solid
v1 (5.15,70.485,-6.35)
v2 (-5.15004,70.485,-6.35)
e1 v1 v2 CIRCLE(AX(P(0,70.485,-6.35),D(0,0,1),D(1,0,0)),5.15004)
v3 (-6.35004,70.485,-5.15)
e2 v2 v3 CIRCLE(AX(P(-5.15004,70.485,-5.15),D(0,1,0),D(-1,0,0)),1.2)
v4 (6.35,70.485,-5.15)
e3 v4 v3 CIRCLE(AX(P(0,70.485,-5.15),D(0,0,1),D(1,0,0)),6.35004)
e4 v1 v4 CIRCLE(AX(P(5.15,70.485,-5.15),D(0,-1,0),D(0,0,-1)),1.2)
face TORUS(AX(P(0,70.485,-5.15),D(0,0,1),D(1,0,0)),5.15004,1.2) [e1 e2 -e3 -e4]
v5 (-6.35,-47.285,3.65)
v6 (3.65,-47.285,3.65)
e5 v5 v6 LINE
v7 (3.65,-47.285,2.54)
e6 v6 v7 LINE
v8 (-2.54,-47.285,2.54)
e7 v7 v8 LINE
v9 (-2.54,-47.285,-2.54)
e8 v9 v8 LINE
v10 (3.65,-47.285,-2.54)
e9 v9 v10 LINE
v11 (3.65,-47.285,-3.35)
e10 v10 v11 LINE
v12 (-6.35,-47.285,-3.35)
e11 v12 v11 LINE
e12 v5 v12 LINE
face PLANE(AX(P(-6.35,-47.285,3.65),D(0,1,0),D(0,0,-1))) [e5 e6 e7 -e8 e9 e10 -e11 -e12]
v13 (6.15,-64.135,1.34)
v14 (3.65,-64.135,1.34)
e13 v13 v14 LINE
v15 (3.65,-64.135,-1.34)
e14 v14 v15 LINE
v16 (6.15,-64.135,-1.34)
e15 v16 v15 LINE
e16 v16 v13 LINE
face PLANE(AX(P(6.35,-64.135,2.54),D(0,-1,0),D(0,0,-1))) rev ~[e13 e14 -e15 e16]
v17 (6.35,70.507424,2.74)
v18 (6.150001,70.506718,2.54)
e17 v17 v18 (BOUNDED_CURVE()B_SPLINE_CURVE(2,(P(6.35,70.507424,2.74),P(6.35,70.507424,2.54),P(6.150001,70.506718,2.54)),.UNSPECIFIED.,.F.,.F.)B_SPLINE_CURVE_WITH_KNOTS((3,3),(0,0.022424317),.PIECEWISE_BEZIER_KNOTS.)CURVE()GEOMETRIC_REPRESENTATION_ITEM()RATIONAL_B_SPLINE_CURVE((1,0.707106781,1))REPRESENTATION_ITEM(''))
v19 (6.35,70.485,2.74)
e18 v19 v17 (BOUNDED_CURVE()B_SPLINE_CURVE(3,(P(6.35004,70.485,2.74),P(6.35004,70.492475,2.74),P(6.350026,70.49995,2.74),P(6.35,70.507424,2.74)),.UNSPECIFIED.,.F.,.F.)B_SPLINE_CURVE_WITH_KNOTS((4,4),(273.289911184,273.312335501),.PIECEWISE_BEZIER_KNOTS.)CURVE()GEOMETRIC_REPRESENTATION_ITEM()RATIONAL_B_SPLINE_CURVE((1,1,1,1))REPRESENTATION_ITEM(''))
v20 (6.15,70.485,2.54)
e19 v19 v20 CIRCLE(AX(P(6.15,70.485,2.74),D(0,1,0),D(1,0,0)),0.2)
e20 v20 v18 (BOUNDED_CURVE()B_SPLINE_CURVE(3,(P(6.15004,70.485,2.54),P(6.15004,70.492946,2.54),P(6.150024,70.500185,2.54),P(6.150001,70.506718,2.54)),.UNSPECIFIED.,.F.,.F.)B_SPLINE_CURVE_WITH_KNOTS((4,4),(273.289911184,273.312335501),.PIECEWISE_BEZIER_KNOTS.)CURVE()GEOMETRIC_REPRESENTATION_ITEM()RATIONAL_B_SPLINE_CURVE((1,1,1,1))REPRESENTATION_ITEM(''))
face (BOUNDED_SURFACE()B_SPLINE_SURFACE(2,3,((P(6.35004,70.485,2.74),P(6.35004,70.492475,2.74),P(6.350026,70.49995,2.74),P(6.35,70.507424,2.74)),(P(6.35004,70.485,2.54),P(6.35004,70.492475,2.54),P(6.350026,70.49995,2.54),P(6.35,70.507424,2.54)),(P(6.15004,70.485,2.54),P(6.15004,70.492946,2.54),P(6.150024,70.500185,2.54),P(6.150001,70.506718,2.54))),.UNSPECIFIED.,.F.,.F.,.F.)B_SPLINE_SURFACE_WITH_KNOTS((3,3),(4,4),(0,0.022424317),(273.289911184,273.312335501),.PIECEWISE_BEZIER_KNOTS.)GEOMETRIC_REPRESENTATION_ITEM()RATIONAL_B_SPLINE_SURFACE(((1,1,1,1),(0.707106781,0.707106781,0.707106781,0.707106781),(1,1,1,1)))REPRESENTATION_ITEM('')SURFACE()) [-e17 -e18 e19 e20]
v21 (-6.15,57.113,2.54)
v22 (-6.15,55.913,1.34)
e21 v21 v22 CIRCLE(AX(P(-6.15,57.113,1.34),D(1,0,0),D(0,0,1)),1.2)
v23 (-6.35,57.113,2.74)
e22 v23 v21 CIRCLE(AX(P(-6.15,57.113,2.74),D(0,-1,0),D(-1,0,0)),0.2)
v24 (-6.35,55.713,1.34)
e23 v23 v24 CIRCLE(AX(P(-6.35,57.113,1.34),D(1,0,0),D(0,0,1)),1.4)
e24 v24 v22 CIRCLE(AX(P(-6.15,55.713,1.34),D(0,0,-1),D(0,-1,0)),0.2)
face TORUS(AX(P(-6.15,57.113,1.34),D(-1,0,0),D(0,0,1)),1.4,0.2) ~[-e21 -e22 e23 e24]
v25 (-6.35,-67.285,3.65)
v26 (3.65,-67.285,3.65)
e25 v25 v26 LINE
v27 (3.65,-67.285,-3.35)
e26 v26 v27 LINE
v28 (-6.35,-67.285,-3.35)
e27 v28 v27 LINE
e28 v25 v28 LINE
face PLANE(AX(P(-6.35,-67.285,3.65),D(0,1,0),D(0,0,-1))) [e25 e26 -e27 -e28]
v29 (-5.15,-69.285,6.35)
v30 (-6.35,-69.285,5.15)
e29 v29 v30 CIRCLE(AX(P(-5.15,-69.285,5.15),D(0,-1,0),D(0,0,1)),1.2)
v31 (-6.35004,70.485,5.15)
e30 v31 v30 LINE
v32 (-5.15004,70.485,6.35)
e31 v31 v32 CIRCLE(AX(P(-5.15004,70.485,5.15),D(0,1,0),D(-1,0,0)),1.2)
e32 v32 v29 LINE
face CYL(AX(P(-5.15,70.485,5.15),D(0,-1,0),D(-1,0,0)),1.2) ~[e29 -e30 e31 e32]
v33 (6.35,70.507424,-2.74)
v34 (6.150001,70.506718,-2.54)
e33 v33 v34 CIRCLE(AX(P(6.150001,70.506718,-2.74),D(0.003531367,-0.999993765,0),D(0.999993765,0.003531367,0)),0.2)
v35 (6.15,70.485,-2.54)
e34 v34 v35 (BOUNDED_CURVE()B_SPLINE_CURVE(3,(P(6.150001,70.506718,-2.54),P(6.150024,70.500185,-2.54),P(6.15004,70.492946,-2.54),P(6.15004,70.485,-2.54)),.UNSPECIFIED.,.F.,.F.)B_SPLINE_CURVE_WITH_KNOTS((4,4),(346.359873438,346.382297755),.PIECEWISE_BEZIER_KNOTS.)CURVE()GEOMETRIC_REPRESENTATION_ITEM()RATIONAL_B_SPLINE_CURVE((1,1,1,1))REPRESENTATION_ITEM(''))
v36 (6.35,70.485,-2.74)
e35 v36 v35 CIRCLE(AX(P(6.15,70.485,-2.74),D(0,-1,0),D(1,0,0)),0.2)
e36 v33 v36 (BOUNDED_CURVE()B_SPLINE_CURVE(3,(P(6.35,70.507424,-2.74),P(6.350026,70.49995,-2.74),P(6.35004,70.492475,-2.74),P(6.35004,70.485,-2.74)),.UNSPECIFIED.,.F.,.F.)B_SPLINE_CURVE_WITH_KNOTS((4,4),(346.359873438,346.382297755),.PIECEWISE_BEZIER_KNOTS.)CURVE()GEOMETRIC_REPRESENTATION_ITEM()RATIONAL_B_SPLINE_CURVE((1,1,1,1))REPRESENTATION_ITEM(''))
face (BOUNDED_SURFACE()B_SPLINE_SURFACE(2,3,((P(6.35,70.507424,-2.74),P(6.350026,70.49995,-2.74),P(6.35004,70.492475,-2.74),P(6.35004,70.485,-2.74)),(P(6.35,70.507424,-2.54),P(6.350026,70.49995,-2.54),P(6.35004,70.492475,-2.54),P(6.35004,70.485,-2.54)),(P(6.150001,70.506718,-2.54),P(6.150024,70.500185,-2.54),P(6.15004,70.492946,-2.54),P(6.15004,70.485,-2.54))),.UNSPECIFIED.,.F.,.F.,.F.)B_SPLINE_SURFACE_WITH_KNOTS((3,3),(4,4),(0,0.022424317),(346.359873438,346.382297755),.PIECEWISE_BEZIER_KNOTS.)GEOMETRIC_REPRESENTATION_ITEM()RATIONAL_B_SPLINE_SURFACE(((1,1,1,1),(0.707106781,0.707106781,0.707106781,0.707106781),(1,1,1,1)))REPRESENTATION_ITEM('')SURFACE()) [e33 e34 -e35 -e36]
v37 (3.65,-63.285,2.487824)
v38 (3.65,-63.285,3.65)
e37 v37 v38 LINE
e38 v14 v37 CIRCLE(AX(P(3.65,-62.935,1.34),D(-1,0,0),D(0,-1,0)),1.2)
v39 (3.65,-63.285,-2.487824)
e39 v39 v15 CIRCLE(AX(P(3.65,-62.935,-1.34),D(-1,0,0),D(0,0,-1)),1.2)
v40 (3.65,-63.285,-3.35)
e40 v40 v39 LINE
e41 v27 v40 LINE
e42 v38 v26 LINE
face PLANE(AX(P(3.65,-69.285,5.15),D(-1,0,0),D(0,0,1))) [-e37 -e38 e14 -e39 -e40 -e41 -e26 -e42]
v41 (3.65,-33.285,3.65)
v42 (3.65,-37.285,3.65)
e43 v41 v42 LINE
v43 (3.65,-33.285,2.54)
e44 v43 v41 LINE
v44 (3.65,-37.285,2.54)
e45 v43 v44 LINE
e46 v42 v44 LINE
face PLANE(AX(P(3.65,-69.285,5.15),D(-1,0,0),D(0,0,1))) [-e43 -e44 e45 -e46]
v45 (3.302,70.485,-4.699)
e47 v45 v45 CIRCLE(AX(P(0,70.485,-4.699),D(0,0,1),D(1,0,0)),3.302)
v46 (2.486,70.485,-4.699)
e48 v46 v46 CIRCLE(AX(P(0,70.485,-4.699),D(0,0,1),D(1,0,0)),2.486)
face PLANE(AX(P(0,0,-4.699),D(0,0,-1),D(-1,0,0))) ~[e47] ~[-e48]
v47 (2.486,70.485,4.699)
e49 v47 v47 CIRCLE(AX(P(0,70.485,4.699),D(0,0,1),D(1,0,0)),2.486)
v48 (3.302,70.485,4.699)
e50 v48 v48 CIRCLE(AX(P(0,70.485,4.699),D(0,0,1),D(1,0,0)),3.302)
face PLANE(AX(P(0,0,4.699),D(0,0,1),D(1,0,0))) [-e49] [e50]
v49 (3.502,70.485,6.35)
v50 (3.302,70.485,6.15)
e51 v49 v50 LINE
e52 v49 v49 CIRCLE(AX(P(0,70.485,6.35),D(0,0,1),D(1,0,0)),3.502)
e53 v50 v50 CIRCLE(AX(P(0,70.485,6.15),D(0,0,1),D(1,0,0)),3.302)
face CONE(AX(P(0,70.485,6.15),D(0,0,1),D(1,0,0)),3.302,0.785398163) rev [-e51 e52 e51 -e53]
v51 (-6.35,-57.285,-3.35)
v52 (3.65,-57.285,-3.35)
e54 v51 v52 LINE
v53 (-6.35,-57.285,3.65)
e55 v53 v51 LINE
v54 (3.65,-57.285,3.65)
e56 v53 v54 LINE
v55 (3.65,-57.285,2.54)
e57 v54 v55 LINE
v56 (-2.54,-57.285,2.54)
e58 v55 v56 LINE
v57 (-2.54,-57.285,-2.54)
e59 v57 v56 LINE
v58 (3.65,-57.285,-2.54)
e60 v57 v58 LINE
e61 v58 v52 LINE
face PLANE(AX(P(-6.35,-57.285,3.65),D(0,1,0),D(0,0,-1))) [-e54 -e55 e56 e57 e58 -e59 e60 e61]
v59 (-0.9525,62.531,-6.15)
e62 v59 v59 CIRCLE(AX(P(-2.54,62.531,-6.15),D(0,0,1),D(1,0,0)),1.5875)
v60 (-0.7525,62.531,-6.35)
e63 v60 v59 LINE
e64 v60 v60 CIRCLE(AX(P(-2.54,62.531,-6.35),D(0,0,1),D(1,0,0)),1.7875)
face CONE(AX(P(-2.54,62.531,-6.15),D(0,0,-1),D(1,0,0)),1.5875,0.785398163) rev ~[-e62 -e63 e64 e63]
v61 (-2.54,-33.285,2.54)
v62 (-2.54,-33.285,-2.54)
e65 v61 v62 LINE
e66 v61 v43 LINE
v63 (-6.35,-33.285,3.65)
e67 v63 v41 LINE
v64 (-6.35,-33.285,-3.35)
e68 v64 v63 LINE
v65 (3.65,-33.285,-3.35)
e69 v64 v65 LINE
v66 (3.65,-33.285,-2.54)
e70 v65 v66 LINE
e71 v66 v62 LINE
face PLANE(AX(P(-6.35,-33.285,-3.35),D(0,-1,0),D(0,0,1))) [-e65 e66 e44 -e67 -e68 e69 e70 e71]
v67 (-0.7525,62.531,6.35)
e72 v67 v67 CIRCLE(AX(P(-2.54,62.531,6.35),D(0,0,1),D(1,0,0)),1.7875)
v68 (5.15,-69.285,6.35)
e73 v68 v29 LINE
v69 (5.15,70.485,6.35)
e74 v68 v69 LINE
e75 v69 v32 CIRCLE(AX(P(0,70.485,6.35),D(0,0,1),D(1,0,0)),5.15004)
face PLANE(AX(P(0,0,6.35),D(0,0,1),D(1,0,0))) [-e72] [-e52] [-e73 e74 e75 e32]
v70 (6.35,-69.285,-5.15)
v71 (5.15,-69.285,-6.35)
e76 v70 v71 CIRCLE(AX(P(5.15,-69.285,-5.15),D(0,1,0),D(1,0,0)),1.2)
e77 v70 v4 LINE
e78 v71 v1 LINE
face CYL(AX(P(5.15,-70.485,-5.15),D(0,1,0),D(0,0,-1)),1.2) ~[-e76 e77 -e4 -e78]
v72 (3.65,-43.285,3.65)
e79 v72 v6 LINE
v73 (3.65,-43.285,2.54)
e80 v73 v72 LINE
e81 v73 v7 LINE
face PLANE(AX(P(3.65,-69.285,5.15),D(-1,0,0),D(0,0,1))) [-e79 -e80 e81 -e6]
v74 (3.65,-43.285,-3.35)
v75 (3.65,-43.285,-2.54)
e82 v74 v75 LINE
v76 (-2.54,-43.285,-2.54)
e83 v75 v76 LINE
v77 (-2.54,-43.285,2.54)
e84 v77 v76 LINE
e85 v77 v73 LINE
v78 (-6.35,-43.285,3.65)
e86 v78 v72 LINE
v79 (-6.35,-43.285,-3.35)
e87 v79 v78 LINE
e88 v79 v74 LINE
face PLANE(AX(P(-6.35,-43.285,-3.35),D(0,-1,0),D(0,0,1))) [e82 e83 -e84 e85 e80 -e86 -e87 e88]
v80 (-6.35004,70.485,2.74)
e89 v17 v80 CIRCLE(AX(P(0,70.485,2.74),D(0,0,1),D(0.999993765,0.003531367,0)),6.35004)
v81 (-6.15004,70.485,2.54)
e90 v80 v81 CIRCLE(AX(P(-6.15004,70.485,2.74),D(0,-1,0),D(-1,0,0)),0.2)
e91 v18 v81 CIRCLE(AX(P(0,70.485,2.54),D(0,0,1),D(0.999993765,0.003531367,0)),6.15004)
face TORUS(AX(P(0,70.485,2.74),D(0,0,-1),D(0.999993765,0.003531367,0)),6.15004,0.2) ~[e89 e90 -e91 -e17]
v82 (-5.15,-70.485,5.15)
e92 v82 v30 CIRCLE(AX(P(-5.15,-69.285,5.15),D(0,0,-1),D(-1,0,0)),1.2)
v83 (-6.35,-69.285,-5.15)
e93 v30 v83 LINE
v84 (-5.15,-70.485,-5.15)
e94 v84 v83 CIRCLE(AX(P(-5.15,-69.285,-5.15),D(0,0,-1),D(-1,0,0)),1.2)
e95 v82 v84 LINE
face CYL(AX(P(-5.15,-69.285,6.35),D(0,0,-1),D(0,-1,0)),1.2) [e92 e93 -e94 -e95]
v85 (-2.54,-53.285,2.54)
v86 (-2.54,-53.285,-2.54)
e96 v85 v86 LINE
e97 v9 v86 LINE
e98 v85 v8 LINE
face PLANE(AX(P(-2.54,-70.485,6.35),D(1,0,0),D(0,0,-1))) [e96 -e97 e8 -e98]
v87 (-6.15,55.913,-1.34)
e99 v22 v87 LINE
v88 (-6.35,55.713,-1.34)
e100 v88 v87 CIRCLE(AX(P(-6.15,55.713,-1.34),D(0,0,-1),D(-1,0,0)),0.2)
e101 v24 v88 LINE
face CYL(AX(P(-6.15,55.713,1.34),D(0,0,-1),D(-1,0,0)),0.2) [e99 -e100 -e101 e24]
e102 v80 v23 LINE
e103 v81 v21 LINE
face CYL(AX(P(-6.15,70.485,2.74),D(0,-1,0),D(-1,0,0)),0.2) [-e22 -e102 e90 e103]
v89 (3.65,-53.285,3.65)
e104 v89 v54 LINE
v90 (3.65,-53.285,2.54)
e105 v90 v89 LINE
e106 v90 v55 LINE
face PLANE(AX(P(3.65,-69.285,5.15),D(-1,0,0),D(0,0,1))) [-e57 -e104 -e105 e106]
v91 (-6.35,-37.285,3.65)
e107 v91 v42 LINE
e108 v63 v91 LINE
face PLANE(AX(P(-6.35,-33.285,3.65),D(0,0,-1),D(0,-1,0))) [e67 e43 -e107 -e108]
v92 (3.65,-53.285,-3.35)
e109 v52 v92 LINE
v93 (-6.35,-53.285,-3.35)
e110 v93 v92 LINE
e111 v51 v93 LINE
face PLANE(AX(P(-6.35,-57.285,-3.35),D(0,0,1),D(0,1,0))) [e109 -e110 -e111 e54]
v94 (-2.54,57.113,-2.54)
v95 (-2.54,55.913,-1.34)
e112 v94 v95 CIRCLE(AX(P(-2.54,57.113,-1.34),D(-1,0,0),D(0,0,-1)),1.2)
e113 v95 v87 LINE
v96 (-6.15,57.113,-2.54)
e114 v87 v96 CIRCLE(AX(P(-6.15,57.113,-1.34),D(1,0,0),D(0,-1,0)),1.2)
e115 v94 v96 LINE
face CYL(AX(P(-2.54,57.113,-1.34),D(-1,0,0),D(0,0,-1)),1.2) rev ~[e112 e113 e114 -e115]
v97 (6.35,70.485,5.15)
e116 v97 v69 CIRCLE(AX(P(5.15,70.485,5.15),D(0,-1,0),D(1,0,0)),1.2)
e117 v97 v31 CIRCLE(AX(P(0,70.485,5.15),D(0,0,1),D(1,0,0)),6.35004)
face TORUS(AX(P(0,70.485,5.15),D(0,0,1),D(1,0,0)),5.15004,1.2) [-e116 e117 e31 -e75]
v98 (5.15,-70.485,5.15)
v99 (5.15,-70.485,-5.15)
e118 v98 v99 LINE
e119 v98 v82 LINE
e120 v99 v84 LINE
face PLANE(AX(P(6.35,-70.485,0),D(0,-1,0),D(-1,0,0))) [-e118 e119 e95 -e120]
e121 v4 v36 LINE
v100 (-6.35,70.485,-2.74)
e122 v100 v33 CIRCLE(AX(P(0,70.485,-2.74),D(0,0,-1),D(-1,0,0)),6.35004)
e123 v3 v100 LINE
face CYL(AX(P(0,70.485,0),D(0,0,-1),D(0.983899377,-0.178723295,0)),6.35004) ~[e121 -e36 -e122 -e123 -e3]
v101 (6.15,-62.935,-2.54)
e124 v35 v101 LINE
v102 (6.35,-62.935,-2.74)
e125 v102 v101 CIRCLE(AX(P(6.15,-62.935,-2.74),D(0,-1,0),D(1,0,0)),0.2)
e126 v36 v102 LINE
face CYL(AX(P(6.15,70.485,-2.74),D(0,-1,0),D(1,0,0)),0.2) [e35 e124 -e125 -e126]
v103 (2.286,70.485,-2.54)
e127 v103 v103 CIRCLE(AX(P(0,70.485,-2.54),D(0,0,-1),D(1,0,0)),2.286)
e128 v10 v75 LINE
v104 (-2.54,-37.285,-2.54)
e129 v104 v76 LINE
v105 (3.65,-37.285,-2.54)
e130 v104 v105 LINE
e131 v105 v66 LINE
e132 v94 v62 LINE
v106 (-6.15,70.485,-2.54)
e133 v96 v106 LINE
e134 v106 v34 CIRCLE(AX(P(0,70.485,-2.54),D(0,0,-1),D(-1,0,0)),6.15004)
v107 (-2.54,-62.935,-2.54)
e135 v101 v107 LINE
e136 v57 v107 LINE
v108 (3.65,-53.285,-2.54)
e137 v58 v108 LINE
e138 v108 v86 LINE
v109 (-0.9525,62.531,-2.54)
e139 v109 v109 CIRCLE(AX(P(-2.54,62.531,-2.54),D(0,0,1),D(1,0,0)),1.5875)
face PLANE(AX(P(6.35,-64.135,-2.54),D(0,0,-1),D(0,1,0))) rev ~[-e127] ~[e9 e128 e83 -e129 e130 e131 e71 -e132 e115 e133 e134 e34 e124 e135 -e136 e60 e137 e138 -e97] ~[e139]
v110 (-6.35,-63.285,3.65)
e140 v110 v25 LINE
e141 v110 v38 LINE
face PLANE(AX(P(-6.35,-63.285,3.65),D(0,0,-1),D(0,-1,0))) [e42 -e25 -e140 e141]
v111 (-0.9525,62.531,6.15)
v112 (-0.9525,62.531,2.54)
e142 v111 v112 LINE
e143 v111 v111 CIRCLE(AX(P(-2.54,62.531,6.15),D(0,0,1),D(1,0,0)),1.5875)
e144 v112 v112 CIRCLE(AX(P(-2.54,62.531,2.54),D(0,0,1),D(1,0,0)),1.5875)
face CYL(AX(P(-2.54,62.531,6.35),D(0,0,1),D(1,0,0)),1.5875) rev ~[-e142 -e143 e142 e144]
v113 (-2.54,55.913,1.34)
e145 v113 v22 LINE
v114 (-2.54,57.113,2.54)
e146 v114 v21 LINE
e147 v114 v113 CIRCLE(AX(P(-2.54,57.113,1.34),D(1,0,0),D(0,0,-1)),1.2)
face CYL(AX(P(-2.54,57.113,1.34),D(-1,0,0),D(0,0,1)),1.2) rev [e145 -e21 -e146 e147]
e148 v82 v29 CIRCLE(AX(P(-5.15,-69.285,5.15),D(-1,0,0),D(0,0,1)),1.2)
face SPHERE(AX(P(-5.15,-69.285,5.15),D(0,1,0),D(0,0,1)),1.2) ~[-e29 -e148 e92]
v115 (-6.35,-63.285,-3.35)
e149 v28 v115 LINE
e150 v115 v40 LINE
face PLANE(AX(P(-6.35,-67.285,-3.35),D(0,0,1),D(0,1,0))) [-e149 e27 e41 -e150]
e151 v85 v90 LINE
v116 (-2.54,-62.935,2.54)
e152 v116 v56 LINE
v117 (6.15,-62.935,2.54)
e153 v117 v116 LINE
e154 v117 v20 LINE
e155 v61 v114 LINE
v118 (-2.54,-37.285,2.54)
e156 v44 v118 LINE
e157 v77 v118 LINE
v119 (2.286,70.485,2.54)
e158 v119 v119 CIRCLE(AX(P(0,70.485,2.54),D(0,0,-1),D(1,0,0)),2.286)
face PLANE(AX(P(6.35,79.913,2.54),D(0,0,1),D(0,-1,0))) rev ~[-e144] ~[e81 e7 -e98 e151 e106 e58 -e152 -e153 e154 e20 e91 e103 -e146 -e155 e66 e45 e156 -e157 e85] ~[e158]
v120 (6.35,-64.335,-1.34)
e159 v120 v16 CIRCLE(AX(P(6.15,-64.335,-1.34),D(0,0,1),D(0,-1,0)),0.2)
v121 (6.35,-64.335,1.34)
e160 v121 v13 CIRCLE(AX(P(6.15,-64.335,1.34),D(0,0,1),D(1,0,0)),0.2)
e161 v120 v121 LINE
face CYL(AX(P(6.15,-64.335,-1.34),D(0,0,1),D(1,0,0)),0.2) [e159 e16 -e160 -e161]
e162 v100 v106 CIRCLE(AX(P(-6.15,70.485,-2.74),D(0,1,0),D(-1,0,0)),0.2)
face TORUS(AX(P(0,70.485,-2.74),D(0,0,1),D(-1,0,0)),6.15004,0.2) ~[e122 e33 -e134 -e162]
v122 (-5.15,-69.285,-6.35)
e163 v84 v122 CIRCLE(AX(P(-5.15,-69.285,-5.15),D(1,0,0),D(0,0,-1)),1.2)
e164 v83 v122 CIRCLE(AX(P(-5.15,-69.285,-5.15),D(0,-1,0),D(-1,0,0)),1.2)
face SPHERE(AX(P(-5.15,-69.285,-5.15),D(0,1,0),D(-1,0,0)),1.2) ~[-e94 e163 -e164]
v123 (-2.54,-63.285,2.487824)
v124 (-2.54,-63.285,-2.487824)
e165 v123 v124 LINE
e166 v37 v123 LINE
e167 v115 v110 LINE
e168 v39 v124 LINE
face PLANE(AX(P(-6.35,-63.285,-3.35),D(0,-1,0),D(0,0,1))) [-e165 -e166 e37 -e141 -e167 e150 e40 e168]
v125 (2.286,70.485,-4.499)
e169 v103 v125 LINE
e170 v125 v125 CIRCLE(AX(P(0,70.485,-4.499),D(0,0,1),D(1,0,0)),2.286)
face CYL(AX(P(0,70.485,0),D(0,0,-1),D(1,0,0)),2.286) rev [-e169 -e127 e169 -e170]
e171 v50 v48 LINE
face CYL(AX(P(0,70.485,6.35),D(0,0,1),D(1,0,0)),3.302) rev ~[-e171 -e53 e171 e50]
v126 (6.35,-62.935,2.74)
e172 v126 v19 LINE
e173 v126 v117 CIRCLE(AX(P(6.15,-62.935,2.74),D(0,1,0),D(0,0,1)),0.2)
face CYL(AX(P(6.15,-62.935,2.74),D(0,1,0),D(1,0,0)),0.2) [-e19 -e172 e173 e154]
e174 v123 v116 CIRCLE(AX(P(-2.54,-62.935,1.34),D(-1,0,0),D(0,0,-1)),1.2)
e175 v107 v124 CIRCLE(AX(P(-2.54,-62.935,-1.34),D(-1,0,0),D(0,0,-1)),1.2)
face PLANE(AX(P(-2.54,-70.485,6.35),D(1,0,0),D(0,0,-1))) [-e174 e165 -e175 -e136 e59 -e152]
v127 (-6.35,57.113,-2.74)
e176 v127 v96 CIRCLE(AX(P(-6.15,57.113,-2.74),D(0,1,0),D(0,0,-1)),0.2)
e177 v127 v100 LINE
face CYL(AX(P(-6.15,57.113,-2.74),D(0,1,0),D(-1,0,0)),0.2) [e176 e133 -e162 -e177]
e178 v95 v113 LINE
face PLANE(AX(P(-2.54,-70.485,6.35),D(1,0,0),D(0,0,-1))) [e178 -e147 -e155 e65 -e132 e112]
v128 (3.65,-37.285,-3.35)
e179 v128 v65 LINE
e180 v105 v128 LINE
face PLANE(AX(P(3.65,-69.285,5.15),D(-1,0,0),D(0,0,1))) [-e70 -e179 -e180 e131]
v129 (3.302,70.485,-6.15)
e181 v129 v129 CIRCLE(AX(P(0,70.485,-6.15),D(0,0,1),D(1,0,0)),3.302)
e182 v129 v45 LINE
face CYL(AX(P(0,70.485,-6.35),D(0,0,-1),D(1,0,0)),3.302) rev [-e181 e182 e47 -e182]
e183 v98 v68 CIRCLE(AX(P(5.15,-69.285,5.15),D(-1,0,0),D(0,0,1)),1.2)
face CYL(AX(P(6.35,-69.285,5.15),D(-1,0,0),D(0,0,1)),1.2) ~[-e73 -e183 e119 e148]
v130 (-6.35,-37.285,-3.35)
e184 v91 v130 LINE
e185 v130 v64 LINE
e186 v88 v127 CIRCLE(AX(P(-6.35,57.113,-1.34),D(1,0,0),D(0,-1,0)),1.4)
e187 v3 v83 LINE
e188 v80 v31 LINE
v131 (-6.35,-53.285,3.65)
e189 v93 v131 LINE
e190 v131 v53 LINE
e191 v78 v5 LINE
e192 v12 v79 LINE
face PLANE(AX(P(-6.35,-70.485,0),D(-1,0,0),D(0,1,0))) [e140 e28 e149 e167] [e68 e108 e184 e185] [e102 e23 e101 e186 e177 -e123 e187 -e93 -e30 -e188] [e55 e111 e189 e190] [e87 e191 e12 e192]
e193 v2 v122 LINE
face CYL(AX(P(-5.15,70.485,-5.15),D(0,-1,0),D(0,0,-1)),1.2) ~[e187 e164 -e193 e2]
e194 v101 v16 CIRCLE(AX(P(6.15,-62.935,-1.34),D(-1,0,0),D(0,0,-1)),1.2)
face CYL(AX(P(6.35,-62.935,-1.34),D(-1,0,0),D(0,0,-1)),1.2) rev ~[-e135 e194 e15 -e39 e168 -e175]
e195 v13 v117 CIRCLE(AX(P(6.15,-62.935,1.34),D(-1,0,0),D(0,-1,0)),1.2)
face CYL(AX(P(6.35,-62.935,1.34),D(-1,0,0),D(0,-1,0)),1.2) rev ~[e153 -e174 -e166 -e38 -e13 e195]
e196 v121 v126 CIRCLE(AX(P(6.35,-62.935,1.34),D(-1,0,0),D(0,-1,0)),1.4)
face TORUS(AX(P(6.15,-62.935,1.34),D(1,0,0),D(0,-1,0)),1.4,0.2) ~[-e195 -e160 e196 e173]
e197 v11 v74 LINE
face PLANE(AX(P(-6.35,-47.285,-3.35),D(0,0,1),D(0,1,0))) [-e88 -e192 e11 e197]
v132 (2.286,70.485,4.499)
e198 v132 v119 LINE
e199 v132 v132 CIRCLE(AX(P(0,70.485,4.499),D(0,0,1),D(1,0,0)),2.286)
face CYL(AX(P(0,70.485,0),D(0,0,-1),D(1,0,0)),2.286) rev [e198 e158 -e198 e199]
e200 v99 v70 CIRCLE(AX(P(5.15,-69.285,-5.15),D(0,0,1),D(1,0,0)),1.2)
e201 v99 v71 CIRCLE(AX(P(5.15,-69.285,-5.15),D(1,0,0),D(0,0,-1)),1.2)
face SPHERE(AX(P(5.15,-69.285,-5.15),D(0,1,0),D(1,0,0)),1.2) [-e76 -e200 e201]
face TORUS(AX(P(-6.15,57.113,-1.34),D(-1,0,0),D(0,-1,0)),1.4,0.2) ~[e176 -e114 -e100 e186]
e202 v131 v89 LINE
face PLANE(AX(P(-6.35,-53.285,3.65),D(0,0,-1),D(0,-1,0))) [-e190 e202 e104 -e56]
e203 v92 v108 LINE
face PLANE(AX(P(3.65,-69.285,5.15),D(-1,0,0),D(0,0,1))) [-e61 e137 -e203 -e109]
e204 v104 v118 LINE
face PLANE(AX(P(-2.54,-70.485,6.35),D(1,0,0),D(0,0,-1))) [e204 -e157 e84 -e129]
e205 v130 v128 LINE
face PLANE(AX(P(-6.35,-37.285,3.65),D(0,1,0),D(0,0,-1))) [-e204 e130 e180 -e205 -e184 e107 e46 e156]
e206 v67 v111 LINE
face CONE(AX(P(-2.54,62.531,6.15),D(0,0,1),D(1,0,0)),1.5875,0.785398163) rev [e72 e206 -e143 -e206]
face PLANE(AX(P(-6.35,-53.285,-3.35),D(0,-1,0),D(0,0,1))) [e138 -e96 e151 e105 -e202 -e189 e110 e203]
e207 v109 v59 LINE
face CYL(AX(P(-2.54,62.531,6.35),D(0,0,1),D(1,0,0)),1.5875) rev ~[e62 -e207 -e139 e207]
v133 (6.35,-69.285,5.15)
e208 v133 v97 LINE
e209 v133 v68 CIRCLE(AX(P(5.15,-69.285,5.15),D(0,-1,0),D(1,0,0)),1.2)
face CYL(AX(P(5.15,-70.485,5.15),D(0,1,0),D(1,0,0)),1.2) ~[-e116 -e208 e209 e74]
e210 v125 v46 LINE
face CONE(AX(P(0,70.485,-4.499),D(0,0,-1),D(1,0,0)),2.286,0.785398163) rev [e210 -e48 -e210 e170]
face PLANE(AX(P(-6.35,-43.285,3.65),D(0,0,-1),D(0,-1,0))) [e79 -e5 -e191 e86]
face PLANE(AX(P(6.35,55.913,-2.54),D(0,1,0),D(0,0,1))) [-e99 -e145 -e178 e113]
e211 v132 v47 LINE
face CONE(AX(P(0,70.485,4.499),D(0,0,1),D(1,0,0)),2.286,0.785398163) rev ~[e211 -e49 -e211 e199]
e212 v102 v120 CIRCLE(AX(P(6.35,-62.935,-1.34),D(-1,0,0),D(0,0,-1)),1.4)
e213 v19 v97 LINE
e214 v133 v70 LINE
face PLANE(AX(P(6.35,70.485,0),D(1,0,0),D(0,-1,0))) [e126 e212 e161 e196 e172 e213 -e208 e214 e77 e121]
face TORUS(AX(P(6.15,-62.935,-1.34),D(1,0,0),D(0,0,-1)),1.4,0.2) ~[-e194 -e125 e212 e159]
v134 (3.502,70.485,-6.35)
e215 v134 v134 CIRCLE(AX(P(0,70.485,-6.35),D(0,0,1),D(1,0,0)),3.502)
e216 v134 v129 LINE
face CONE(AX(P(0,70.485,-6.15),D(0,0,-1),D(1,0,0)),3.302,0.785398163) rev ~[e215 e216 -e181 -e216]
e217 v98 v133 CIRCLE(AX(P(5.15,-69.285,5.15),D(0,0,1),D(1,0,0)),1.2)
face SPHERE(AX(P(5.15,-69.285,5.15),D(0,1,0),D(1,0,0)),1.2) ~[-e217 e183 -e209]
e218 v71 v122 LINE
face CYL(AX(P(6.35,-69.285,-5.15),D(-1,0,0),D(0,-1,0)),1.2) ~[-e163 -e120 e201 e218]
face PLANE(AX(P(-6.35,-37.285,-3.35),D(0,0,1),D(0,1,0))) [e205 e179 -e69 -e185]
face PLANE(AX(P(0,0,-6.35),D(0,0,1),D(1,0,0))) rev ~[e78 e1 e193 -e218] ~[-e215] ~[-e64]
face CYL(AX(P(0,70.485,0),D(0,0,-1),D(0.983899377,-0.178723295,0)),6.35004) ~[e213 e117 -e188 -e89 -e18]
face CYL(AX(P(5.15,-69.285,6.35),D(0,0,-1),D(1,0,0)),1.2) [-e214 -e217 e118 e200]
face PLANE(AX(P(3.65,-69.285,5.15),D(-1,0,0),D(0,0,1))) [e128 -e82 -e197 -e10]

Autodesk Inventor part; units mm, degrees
ref_plane "YZ Plane" through (0, 0, 0) normal (1, 0, 0) x (0, 1, 0)
ref_plane "XZ Plane" through (0, 0, 0) normal (0, 1, 0) x (-1, 0, 0)
sketch "Sketch1" plane through (0, 0, 0) normal (0, 0, 1) x (1, 0, 0)
  line L0 (6.35, 70.485) -> (6.35, -70.485)
  line L1 (6.35, -70.485) -> (-6.35, -70.485)
  line L2 (-6.35, -70.485) -> (-6.35, 70.485)
  line L3 (-6.35, 70.485) -> (6.35, -70.485) construction
  line L4 (6.35, 70.485) -> (-6.35, -70.485) construction
  arc A0 (6.2478, 69.3501) -> (-6.2478, 69.3501) centre (0, 70.485) ccw
  circle A1 centre (0, 70.485) radius 2.286
  point P0 (0, 0)
  point P1 (-6.35, 70.485)
  dimension "d0" = 12.7
  dimension "d1" = 140.97
  dimension "d2" = 4.572
extrude "Extrusion1" add sketch "Sketch1" along normal mid plane 12.7
sketch "Sketch2" plane through (6.35, -70.485, 6.35) normal (1, 0, 0) x (0, 0, -1)
  line L0 (3.81, 6.35) -> (8.89, 6.35)
  line L1 (8.89, 6.35) -> (8.89, 126.398)
  line L2 (8.89, 126.398) -> (3.81, 126.398)
  line L3 (3.81, 126.398) -> (3.81, 6.35)
  line L4 (3.81, 6.35) -> (8.89, 126.398) construction
  line L5 (8.89, 6.35) -> (3.81, 126.398) construction
  line L6 (0, 0) -> (12.7, 0) projected
  line L7 (12.7, 140.97) -> (12.7, 0) projected
  line L8 (3.81, 126.398) -> (8.89, 126.398)
  line L9 (8.89, 126.398) -> (8.89, 150.398)
  line L10 (8.89, 150.398) -> (3.81, 150.398)
  line L11 (3.81, 150.398) -> (3.81, 126.398)
  point P0 (6.35, 70.485)
  point P1 (6.35, 66.374)
  dimension "d5" = 6.35
  dimension "d6" = 5.08
  dimension "d7" = 3.81
  dimension "d8" = 120.048
  dimension "d9" = 5.08
  dimension "d10" = 24
extrude "Extrusion2" cut sketch "Sketch2" against normal blind 8.89 contours L3 L2 L1 L0
extrude "Extrusion3" cut sketch "Sketch2" against normal through all contours L11 L10 L9 L2
sketch "Sketch3" plane through (0, 0, 6.35) normal (0, 0, 1) x (1, 0, 0)
  circle A0 centre (0, 70.485) radius 2.286 projected
  circle A1 centre (-2.54, 62.531) radius 1.5875
  point P0 (0, 0)
  dimension "d15" = 3.175
  dimension "d16" = 7.954
  dimension "d17" = 2.54
extrude "Extrusion4" cut sketch "Sketch3" against normal through all contours A1
fillet "Fillet1" radius 1.2 14 edges at (-4.445, 55.913, -2.54) (-4.445, 55.913, 2.54) (0, 76.835, 6.35) (-6.35, 0, 6.35) (6.35, 0, 6.35) (0, 76.835, -6.35) (-6.35, 0, -6.35) (6.35, 0, -6.35) (6.35, -70.485, 0) (0, -70.485, 6.35) (-6.35, -70.485, 0) (0, -70.485, -6.35) (1.905, -64.135, -2.54) (1.905, -64.135, 2.54)
sketch "Sketch5" plane through (0, 0, 6.35) normal (0, 0, 1) x (1, 0, 0)
  circle A0 centre (0, 70.485) radius 2.286 projected
  circle A1 centre (0, 70.485) radius 3.302
  point P0 (0, 0)
  dimension "d25" = 6.604
extrude "Extrusion6" cut sketch "Sketch5" against normal blind 1.651
ref_plane "Work Plane1" through (0, 0, 0) normal (0, 0, 1) x (1, 0, 0)
mirror "Mirror1" about plane through (0, 0, 0) normal (0, 0, 1) of "Extrusion6"
sketch "Sketch6" plane through (-6.35, -69.285, 5.15) normal (-1, 0, 0) x (0, 0, 1)
  line L0 (0, 139.77) -> (0, 0) projected
  line L1 (-2.61, 139.77) -> (0, 139.77) projected
  line L2 (-2.61, 139.77) -> (-2.61, 126.398) projected
  arc A0 (-3.81, 125.198) -> (-2.61, 126.398) centre (-3.81, 126.398) ccw projected
  line L3 (-3.81, 125.198) -> (-6.49, 125.198) projected
  arc A1 (-7.69, 126.398) -> (-6.49, 125.198) centre (-6.49, 126.398) ccw projected
  line L4 (-7.69, 126.398) -> (-7.69, 139.77) projected
  line L5 (-10.3, 139.77) -> (-7.69, 139.77) projected
  line L6 (-10.3, 0) -> (-10.3, 139.77) projected
  line L7 (0, 0) -> (-10.3, 0) projected
  line L8 (-1.5, 2) -> (-8.5, 2)
  line L9 (-8.5, 2) -> (-8.5, 6)
  line L10 (-8.5, 6) -> (-1.5, 6)
  line L11 (-1.5, 6) -> (-1.5, 2)
  line L12 (-8.5, 16) -> (-1.5, 16)
  line L13 (-8.5, 12) -> (-8.5, 16)
  line L14 (-1.5, 12) -> (-8.5, 12)
  line L15 (-1.5, 16) -> (-1.5, 12)
  line L16 (-8.5, 26) -> (-1.5, 26)
  line L17 (-8.5, 22) -> (-8.5, 26)
  line L18 (-1.5, 22) -> (-8.5, 22)
  line L19 (-1.5, 26) -> (-1.5, 22)
  line L20 (-8.5, 36) -> (-1.5, 36)
  line L21 (-8.5, 32) -> (-8.5, 36)
  line L22 (-1.5, 32) -> (-8.5, 32)
  line L23 (-1.5, 36) -> (-1.5, 32)
  point P0 (-5.15, 69.285)
  dimension "d28" = 1.5
  dimension "d29" = 2
  dimension "d30" = 7
  dimension "d31" = 4
  dimension "d37" = 10
extrude "Extrusion7" cut sketch "Sketch6" against normal blind 10 contours L8 L9 L10 L11 | L12 L15 L14 L13 | L16 L19 L18 L17 | L20 L23 L22 L21
chamfer "Chamfer2" distance 0.2 angle 45 4 edges at (-3.302, 70.485, 6.35) (-2.286, 70.485, 4.699) (-3.302, 70.485, -6.35) (-2.286, 70.485, -4.699)
chamfer "Chamfer3" distance 0.2 angle 45 2 edges at (-4.1275, 62.531, 6.35) (-4.1275, 62.531, -6.35)
fillet "Fillet2" radius 0.2 8 edges at (6.35, 3.775, -2.54) (6.35, -63.7835, -2.1885) (6.35, -64.135, 0) (6.35, -63.7835, 2.1885) (6.35, 3.775, 2.54) (-6.35, 56.2645, 2.1885) (-6.35, 55.913, 0) (-6.35, 56.2645, -2.1885)
